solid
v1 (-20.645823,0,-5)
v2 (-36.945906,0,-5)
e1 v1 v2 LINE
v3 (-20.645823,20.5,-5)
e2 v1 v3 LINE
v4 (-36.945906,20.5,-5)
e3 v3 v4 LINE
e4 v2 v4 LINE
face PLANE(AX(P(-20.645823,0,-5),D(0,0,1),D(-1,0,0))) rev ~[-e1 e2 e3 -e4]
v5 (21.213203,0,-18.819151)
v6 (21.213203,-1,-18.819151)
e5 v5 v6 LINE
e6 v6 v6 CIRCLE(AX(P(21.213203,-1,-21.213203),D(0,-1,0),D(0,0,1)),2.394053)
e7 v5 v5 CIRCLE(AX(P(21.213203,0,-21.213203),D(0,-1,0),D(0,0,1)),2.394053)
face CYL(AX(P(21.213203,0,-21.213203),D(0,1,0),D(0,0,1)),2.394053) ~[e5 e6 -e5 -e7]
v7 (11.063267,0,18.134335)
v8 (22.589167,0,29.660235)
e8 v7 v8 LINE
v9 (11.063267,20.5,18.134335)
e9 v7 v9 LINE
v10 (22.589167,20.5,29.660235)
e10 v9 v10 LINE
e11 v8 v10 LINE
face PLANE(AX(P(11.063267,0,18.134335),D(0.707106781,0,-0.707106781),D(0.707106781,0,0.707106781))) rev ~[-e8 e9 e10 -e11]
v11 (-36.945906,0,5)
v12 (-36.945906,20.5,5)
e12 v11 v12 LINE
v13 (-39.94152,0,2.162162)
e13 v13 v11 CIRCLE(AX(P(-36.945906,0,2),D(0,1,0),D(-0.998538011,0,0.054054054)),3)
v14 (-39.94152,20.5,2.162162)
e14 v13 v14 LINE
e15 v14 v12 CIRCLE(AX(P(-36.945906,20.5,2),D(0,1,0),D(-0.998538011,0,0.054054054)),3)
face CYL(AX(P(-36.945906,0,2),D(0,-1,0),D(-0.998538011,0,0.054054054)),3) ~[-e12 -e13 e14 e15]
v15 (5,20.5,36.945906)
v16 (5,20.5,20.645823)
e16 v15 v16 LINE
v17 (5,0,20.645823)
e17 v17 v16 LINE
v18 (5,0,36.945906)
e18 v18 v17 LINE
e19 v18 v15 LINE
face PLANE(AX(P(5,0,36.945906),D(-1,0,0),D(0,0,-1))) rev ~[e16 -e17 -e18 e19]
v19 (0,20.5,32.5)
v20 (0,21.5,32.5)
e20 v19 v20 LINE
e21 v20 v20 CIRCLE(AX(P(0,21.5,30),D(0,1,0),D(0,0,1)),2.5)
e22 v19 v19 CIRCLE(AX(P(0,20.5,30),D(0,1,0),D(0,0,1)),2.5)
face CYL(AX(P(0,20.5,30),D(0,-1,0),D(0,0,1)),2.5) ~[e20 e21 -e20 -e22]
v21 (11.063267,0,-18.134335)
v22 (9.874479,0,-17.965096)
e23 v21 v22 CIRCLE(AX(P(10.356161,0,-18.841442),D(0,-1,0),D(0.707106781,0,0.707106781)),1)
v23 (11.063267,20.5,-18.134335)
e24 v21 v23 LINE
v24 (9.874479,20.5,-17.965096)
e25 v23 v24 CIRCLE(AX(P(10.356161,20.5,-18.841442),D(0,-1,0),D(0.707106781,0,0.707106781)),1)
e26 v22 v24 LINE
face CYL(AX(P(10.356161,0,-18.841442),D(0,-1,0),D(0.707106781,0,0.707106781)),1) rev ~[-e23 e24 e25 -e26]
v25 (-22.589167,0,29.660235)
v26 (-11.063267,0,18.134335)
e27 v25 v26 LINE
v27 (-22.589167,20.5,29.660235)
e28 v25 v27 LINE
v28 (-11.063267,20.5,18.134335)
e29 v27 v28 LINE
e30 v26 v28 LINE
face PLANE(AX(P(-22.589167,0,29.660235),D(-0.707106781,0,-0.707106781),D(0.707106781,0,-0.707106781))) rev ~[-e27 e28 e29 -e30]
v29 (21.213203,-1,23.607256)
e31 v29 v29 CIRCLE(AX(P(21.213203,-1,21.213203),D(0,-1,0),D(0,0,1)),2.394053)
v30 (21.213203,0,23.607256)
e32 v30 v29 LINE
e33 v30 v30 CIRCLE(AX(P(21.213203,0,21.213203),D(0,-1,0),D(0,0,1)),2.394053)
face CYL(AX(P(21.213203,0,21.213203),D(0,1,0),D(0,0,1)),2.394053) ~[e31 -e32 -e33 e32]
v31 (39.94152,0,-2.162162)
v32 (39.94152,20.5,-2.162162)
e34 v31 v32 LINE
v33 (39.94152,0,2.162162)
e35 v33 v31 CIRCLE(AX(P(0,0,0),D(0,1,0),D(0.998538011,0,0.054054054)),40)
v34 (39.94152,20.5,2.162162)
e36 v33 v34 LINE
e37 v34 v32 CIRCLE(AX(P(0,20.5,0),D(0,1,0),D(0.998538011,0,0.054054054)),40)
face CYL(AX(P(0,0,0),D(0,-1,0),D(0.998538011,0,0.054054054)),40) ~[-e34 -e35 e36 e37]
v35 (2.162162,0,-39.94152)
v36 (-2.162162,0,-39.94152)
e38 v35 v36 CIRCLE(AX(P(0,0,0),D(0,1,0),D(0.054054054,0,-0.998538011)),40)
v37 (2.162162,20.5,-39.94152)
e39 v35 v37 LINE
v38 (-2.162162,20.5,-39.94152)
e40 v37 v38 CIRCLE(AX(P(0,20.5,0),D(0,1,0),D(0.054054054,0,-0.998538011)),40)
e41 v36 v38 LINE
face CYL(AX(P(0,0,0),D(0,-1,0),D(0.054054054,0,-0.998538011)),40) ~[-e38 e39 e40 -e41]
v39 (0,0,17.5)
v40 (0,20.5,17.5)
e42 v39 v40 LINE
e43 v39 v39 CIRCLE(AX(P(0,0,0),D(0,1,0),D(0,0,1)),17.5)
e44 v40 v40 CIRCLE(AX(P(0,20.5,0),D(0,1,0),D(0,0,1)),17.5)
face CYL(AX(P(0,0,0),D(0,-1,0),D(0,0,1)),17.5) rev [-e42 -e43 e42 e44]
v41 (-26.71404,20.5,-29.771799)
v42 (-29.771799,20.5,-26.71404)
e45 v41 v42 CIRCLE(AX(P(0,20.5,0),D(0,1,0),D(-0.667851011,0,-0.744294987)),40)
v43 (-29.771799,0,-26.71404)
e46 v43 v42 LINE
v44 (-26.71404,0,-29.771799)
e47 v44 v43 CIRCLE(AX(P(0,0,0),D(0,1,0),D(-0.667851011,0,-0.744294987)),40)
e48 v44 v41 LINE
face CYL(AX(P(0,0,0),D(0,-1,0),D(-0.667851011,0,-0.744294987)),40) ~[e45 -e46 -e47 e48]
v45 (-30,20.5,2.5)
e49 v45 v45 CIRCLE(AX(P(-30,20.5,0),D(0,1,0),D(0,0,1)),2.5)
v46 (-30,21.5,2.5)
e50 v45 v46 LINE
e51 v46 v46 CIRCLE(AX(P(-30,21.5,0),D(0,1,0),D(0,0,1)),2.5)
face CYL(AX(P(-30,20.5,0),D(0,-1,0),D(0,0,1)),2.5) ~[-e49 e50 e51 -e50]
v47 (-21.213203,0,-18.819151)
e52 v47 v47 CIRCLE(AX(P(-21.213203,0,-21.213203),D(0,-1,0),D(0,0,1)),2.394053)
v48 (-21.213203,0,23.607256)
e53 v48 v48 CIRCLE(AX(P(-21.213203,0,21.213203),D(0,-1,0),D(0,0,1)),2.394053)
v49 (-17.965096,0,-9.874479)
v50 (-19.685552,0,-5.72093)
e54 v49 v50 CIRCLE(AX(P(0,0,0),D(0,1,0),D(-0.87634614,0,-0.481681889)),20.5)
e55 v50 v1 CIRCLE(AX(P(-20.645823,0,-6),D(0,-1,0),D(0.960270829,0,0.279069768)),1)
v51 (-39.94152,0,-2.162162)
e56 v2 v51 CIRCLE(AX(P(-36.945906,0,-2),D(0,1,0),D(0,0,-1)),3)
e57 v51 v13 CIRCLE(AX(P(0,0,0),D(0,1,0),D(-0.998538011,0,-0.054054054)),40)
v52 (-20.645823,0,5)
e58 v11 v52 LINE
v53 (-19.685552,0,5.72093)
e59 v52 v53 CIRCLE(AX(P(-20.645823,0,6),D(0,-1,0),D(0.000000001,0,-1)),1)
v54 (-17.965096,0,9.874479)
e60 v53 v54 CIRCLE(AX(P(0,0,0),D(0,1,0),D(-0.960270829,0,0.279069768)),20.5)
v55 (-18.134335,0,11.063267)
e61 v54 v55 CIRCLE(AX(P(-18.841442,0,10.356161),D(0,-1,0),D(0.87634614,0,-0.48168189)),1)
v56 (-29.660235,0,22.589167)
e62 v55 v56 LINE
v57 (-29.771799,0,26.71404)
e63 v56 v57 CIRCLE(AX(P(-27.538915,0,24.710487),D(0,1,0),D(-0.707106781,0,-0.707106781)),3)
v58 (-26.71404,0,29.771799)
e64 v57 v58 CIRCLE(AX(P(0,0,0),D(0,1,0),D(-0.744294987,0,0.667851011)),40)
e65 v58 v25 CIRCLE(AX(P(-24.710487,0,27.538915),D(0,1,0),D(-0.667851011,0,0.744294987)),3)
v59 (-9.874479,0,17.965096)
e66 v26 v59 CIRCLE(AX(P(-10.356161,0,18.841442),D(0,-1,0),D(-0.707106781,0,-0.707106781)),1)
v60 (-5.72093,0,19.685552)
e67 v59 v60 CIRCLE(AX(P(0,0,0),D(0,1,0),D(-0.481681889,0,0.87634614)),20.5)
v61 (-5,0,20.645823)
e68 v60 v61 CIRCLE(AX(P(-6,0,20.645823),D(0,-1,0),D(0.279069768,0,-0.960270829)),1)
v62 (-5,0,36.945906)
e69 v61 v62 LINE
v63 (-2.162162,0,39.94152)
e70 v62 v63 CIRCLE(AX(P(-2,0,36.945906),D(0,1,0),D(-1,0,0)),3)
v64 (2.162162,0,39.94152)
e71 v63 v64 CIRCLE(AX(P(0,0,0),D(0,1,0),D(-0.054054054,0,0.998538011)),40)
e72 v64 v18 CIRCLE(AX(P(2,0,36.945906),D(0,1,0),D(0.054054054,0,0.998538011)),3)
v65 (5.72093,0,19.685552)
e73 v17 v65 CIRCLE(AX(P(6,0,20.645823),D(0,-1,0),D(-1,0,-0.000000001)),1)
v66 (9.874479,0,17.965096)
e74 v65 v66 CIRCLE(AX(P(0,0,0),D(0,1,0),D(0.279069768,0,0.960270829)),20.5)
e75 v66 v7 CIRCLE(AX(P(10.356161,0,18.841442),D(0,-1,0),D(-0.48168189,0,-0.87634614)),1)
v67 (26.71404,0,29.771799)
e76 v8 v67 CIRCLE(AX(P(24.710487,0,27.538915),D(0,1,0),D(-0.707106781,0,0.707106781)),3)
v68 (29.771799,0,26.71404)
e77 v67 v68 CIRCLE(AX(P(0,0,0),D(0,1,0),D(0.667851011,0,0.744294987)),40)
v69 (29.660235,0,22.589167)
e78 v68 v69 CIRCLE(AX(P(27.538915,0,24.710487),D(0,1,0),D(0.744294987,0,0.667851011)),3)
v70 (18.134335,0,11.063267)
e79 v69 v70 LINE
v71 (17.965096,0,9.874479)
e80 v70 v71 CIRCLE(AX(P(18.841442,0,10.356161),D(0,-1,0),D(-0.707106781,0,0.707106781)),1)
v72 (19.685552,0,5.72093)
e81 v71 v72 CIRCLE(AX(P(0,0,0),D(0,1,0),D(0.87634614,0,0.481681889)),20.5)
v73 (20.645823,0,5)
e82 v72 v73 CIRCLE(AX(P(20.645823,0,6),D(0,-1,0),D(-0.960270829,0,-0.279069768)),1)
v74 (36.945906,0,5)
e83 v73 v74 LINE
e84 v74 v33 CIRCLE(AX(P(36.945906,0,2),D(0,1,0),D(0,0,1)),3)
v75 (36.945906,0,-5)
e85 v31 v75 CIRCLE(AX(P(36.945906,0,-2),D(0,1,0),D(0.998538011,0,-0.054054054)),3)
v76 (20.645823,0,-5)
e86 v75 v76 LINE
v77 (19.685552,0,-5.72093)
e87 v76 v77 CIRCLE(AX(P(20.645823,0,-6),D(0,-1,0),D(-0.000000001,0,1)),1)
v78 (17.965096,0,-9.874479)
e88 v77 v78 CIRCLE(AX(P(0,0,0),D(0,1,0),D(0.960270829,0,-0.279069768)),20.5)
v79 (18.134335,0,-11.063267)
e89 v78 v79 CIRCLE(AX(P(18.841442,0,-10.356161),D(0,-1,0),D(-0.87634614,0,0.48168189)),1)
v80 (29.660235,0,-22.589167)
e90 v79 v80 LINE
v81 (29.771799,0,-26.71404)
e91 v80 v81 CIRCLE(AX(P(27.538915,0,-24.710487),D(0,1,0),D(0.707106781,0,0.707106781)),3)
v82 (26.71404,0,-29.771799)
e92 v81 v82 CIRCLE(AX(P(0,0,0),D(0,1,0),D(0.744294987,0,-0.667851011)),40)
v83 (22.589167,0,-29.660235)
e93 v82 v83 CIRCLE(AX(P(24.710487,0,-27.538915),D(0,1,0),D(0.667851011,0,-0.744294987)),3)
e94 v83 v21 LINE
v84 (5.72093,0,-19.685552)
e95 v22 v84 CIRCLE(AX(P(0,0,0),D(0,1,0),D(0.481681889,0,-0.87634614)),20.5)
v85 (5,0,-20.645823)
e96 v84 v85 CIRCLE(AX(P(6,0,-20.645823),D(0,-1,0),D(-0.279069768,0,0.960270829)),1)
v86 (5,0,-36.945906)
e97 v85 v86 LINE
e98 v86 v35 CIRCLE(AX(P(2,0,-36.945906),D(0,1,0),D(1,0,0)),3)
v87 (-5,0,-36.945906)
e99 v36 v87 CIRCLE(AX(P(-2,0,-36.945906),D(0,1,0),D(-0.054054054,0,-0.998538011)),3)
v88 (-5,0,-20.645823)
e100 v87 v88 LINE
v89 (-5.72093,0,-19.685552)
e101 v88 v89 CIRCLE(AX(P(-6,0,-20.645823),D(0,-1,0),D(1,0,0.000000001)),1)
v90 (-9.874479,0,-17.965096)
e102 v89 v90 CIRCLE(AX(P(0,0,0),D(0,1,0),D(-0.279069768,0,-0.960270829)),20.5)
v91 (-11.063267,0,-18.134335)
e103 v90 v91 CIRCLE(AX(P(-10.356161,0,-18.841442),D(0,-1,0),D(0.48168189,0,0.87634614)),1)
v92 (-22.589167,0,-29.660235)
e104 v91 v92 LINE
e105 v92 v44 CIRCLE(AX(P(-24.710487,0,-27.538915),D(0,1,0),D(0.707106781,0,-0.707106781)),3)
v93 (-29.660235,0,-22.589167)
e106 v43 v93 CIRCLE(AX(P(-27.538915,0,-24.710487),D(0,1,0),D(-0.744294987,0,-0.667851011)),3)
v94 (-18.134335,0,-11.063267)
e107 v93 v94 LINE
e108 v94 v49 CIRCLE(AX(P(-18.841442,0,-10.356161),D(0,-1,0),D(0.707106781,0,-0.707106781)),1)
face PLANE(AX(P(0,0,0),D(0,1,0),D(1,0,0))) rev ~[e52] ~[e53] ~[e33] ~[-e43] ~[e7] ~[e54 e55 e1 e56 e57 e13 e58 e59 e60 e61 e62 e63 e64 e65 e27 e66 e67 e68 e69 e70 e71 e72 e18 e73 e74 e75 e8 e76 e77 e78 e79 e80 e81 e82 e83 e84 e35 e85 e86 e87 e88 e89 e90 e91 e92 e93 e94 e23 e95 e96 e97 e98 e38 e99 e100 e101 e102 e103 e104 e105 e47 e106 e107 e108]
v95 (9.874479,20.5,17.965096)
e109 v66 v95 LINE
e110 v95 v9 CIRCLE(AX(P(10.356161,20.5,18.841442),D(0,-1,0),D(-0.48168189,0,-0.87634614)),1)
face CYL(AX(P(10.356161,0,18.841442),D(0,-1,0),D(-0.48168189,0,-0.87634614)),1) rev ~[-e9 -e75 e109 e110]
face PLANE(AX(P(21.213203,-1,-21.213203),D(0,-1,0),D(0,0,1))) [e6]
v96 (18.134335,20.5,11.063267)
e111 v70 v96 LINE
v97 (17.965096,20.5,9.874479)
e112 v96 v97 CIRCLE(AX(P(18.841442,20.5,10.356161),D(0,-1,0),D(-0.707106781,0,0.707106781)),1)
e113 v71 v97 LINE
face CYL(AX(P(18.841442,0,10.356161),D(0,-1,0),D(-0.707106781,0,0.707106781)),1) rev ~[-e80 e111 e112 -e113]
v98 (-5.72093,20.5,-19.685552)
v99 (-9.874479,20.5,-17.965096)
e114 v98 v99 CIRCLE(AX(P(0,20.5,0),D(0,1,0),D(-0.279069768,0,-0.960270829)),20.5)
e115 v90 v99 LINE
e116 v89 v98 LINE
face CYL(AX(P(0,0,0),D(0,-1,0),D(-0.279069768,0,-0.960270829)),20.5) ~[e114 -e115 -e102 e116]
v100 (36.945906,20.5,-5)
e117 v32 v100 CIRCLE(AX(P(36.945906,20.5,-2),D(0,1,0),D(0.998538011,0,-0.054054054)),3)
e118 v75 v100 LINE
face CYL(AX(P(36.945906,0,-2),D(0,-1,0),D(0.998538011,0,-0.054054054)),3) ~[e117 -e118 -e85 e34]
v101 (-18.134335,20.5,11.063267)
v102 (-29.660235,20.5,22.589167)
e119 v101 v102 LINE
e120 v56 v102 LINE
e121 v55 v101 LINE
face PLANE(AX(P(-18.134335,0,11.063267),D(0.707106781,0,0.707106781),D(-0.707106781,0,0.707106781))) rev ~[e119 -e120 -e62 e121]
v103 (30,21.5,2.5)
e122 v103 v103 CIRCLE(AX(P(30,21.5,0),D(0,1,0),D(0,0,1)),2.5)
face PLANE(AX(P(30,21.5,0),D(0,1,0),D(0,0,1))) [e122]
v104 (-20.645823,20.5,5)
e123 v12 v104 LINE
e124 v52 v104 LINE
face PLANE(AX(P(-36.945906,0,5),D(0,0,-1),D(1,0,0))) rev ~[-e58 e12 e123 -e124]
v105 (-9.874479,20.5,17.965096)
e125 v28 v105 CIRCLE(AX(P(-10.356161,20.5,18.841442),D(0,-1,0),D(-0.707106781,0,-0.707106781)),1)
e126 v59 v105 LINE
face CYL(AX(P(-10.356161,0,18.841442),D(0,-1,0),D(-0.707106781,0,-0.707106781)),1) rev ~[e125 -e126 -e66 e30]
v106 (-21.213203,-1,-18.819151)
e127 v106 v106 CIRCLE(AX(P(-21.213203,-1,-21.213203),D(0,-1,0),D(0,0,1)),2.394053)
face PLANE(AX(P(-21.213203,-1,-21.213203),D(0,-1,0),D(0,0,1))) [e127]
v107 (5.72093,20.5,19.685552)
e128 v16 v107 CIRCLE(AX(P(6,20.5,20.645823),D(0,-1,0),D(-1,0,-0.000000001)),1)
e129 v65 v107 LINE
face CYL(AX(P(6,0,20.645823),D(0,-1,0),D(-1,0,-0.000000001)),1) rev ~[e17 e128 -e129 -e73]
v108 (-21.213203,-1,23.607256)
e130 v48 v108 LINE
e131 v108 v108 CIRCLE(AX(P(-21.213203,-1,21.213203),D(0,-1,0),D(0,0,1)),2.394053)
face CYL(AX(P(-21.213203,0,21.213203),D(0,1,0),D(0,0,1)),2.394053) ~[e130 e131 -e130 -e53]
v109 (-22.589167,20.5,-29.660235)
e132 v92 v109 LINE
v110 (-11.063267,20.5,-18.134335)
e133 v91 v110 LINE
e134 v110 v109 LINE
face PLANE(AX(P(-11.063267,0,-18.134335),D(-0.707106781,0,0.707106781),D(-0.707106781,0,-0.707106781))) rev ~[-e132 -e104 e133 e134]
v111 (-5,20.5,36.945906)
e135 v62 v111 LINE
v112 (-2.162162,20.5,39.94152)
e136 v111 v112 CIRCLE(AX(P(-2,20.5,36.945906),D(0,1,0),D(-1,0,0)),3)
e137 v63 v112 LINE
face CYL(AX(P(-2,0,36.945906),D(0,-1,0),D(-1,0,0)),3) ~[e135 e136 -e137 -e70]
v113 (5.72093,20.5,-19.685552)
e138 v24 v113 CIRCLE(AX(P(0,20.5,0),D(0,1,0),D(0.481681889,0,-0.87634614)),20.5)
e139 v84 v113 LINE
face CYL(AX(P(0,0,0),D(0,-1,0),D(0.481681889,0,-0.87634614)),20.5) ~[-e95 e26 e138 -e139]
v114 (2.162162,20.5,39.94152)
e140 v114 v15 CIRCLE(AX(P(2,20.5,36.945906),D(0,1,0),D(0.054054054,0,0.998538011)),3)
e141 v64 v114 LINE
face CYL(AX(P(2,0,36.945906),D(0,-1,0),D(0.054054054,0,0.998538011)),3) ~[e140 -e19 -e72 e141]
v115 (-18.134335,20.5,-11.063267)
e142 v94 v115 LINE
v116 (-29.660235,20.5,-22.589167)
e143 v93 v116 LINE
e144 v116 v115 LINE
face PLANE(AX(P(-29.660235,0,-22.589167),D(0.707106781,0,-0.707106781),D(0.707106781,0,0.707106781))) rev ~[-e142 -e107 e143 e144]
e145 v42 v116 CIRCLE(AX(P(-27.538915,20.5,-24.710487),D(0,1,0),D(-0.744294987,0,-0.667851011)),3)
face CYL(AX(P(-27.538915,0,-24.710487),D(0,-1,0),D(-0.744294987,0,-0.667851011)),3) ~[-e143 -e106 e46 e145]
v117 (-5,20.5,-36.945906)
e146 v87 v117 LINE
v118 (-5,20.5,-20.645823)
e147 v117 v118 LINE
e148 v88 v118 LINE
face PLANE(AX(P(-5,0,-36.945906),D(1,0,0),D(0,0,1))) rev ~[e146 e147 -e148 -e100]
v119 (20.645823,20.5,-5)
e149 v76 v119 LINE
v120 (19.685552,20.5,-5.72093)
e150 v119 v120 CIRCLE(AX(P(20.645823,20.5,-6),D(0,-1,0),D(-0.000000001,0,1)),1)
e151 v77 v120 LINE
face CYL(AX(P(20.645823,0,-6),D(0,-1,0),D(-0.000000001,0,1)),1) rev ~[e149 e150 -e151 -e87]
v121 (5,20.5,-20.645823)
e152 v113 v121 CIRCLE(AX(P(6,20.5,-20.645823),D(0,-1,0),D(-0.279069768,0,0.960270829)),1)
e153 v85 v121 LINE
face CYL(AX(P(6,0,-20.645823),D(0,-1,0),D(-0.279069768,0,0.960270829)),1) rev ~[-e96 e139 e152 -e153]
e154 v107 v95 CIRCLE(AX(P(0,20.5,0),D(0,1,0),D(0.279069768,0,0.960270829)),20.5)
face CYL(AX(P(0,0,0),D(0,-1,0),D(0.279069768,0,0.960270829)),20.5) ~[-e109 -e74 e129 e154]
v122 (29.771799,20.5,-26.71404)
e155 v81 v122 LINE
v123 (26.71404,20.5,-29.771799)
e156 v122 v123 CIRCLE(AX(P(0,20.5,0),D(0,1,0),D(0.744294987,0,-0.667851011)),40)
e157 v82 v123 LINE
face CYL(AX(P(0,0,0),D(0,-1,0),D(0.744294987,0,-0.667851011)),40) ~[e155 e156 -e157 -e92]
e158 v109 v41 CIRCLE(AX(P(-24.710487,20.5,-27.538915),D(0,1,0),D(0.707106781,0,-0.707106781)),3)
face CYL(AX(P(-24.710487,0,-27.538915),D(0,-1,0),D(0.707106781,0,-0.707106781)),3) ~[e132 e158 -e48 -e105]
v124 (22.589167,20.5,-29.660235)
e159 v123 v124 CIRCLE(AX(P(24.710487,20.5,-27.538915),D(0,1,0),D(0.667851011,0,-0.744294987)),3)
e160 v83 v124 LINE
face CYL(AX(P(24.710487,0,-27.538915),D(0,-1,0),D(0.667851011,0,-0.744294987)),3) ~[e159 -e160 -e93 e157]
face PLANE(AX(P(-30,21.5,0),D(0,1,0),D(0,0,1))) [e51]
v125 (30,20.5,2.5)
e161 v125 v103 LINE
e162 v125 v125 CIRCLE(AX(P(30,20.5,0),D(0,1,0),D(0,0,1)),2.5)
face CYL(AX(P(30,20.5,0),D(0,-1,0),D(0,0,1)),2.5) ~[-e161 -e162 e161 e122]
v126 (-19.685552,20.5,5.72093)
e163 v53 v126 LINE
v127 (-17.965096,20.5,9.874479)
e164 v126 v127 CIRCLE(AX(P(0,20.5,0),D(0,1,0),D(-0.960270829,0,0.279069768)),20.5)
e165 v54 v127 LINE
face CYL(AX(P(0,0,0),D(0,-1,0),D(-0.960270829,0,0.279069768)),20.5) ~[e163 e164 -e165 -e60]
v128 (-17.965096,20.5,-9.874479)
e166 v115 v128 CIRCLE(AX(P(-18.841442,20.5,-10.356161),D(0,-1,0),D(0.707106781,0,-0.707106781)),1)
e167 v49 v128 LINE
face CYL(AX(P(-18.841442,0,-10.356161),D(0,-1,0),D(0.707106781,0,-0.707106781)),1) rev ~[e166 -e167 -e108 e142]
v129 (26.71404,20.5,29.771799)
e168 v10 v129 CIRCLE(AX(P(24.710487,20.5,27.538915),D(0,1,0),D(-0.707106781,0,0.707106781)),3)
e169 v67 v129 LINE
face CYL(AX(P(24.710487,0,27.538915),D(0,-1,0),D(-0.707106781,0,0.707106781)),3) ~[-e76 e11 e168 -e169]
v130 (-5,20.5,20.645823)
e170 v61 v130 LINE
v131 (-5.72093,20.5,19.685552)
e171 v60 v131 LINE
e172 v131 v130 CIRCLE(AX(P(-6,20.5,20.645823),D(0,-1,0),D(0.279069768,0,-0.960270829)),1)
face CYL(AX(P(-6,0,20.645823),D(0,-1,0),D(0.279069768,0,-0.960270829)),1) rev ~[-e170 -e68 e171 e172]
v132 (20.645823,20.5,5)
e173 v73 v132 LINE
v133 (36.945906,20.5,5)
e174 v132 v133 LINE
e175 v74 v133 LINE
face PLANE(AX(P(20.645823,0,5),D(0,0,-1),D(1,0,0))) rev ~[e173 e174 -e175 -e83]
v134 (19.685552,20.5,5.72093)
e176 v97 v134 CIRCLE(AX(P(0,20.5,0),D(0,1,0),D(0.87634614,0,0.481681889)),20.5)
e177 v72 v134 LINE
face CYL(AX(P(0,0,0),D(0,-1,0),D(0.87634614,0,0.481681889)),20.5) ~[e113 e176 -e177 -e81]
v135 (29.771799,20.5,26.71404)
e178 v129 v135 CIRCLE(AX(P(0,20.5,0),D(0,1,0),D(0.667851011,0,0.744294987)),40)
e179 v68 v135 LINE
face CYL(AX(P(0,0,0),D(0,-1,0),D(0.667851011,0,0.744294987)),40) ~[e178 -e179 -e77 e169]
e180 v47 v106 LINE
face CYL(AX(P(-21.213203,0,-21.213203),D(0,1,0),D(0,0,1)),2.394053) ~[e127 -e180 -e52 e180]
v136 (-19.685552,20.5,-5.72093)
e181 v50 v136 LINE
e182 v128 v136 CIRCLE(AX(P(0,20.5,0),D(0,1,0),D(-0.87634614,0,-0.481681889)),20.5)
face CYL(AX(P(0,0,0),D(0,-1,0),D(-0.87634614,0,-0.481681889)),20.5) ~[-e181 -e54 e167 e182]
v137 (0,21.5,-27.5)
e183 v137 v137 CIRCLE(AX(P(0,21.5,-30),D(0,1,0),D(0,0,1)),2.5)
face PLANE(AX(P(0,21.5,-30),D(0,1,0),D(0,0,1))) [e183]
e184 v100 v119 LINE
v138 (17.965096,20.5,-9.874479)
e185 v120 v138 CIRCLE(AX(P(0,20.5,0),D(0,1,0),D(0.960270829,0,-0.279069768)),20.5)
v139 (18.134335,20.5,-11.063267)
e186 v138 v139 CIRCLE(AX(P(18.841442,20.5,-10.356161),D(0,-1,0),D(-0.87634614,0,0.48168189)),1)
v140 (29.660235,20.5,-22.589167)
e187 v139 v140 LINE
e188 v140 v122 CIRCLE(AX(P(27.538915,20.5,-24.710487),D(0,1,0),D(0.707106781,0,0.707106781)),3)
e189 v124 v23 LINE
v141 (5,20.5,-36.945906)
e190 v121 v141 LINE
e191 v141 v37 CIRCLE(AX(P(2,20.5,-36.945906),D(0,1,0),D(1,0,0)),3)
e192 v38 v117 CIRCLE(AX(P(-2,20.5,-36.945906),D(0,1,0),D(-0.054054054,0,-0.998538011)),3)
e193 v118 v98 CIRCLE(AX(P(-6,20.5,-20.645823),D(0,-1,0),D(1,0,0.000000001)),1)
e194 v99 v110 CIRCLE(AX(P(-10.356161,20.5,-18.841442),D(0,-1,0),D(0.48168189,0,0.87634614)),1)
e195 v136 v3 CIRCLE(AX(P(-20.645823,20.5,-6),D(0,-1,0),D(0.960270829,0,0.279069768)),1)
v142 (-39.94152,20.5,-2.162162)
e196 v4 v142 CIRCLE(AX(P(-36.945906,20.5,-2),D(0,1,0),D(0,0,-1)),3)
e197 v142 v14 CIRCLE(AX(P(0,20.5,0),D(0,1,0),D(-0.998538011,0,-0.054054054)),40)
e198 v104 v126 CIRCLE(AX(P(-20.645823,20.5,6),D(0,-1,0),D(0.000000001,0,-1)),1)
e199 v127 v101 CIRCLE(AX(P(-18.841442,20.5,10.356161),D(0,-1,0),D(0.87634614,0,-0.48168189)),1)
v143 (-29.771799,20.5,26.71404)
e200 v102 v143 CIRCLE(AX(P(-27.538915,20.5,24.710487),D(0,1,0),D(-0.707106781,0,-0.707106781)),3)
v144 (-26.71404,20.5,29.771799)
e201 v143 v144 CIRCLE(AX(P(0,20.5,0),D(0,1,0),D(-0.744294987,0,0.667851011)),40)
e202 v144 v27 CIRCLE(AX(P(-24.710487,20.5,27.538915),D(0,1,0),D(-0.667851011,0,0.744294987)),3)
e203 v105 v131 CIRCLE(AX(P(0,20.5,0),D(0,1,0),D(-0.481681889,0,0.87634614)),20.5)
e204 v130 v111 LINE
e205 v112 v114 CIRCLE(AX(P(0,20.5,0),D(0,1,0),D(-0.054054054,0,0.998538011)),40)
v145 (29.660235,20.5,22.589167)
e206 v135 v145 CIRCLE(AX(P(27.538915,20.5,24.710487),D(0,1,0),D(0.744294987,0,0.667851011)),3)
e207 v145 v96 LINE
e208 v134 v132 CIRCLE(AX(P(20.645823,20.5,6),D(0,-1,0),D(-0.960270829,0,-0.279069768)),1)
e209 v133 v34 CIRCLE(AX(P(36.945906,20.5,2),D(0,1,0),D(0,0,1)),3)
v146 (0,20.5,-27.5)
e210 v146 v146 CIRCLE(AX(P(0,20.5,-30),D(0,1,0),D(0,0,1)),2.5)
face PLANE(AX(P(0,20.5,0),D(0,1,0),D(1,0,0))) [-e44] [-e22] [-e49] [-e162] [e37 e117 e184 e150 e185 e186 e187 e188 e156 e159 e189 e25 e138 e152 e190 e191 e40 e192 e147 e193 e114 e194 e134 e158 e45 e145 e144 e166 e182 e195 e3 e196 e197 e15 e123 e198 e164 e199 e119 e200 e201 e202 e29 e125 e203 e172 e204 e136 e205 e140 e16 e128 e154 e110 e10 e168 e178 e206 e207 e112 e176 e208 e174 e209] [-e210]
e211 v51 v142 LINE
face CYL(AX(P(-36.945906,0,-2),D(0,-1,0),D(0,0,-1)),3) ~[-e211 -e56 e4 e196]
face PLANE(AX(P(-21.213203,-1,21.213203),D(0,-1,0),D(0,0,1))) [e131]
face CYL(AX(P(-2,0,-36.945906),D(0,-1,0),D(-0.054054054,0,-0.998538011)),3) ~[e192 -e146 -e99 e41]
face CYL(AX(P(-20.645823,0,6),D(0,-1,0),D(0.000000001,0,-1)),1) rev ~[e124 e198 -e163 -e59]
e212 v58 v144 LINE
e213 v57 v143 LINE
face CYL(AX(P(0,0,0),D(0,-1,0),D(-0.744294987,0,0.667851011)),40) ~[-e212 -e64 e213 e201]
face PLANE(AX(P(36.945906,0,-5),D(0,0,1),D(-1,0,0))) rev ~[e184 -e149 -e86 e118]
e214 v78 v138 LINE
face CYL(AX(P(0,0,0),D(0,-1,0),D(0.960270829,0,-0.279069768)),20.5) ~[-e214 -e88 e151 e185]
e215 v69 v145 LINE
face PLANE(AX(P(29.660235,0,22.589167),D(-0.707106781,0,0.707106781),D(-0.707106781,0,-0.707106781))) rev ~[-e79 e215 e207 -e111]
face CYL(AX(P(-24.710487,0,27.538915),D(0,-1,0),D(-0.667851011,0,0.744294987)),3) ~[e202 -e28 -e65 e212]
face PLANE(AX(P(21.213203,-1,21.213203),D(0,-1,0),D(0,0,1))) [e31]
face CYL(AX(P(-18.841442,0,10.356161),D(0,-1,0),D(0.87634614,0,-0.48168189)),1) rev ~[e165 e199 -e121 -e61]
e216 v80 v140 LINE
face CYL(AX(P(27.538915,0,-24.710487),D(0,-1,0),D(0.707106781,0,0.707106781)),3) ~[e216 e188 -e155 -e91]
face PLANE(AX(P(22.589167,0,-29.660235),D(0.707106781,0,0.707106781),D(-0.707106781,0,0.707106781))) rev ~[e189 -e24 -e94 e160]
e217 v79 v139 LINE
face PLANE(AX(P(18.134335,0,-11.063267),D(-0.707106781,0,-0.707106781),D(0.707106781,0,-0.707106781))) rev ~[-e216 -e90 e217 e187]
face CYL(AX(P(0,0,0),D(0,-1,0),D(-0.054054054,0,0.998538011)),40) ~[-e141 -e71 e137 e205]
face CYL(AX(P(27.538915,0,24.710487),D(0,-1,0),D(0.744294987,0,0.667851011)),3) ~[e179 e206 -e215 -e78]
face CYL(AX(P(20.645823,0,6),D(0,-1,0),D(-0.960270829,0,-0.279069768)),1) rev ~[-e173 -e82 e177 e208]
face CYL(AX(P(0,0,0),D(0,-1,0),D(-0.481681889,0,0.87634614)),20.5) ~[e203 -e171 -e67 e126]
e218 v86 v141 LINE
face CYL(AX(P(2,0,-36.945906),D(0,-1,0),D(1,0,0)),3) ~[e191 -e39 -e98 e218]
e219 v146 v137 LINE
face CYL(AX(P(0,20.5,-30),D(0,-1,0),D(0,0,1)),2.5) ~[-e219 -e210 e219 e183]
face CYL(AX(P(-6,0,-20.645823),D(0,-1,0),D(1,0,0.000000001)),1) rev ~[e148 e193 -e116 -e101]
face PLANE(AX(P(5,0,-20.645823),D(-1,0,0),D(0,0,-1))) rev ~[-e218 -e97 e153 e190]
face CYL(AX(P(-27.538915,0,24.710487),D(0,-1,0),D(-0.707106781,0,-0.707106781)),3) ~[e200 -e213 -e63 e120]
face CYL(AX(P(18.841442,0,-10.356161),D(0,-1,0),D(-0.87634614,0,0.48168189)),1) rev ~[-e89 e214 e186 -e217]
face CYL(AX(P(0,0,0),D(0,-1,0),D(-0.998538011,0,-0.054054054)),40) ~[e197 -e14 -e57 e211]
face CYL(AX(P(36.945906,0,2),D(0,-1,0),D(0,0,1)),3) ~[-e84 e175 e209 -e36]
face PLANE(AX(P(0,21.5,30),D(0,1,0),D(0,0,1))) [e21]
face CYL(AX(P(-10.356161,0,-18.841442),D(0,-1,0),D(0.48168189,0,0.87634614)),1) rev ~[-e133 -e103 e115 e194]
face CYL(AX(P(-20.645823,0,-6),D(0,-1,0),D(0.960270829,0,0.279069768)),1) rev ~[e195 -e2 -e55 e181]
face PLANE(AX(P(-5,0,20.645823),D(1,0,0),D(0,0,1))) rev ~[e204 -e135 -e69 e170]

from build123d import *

# Parameters (mm, degrees)
SKETCH1_R           = 17.5
BOSS_EXTRUDE1_DEPTH = 20.5
SKETCH2_R           = 2.5
BOSS_EXTRUDE2_DEPTH = 1
SKETCH3_R           = 2.394052793
BOSS_EXTRUDE3_DEPTH = 1


with BuildPart() as part:
    # Sketch1 → Boss-Extrude1 (new body)
    with BuildSketch(Plane(origin=(0, 0, 0), x_dir=(1, 0, 0), z_dir=(0, 1, 0))):
        with BuildLine():
            Line((5, 20.645822822), (5, 36.945906404))
            ThreePointArc((5, 36.945906404), (4.177898814, 39.00909732), (2.162162162, 39.941520437))
            ThreePointArc((2.162162162, 39.941520437), (0, 40), (-2.162162162, 39.941520437))
            ThreePointArc((-2.162162162, 39.941520437), (-4.177898814, 39.00909732), (-5, 36.945906404))
            Line((-5, 36.945906404), (-5, 20.645822822))
            ThreePointArc((-5, 20.645822822), (-5.200290751, 20.04543535), (-5.720930233, 19.685551993))
            ThreePointArc((-5.720930233, 19.685551993), (-7.845010363, 18.939530416), (-9.874478744, 17.965095868))
            ThreePointArc((-9.874478744, 17.965095868), (-10.497102414, 17.851424122), (-11.063267415, 18.134335227))
            Line((-11.063267415, 18.134335227), (-22.589167049, 29.660234861))
            ThreePointArc((-22.589167049, 29.660234861), (-24.629376661, 30.537817825), (-26.714040425, 29.771799478))
            ThreePointArc((-26.714040425, 29.771799478), (-28.284271247, 28.284271247), (-29.771799478, 26.714040425))
            ThreePointArc((-29.771799478, 26.714040425), (-30.537817825, 24.629376661), (-29.660234861, 22.589167049))
            Line((-29.660234861, 22.589167049), (-18.134335227, 11.063267415))
            ThreePointArc((-18.134335227, 11.063267415), (-17.851424122, 10.497102414), (-17.965095868, 9.874478744))
            ThreePointArc((-17.965095868, 9.874478744), (-18.939530416, 7.845010363), (-19.685551993, 5.720930233))
            ThreePointArc((-19.685551993, 5.720930233), (-20.04543535, 5.200290751), (-20.645822822, 5))
            Line((-20.645822822, 5), (-36.945906404, 5))
            ThreePointArc((-36.945906404, 5), (-39.00909732, 4.177898814), (-39.941520437, 2.162162162))
            ThreePointArc((-39.941520437, 2.162162162), (-40, 0), (-39.941520437, -2.162162162))
            ThreePointArc((-39.941520437, -2.162162162), (-39.00909732, -4.177898814), (-36.945906404, -5))
            Line((-36.945906404, -5), (-20.645822822, -5))
            ThreePointArc((-20.645822822, -5), (-20.04543535, -5.200290751), (-19.685551993, -5.720930233))
            ThreePointArc((-19.685551993, -5.720930233), (-18.939530416, -7.845010363), (-17.965095868, -9.874478744))
            ThreePointArc((-17.965095868, -9.874478744), (-17.851424122, -10.497102414), (-18.134335227, -11.063267415))
            Line((-18.134335227, -11.063267415), (-29.660234861, -22.589167049))
            ThreePointArc((-29.660234861, -22.589167049), (-30.537817825, -24.629376661), (-29.771799478, -26.714040425))
            ThreePointArc((-29.771799478, -26.714040425), (-28.284271247, -28.284271247), (-26.714040425, -29.771799478))
            ThreePointArc((-26.714040425, -29.771799478), (-24.629376661, -30.537817825), (-22.589167049, -29.660234861))
            Line((-22.589167049, -29.660234861), (-11.063267415, -18.134335227))
            ThreePointArc((-11.063267415, -18.134335227), (-10.497102414, -17.851424122), (-9.874478744, -17.965095868))
            ThreePointArc((-9.874478744, -17.965095868), (-7.845010363, -18.939530416), (-5.720930233, -19.685551993))
            ThreePointArc((-5.720930233, -19.685551993), (-5.200290751, -20.04543535), (-5, -20.645822822))
            Line((-5, -20.645822822), (-5, -36.945906404))
            ThreePointArc((-5, -36.945906404), (-4.177898814, -39.00909732), (-2.162162162, -39.941520437))
            ThreePointArc((-2.162162162, -39.941520437), (0, -40), (2.162162162, -39.941520437))
            ThreePointArc((2.162162162, -39.941520437), (4.177898814, -39.00909732), (5, -36.945906404))
            Line((5, -36.945906404), (5, -20.645822822))
            ThreePointArc((5, -20.645822822), (5.200290751, -20.04543535), (5.720930233, -19.685551993))
            ThreePointArc((5.720930233, -19.685551993), (7.845010363, -18.939530416), (9.874478744, -17.965095868))
            ThreePointArc((9.874478744, -17.965095868), (10.497102414, -17.851424122), (11.063267415, -18.134335227))
            Line((11.063267415, -18.134335227), (22.589167049, -29.660234861))
            ThreePointArc((22.589167049, -29.660234861), (24.629376661, -30.537817825), (26.714040425, -29.771799478))
            ThreePointArc((26.714040425, -29.771799478), (28.284271247, -28.284271247), (29.771799478, -26.714040425))
            ThreePointArc((29.771799478, -26.714040425), (30.537817825, -24.629376661), (29.660234861, -22.589167049))
            Line((29.660234861, -22.589167049), (18.134335227, -11.063267415))
            ThreePointArc((18.134335227, -11.063267415), (17.851424122, -10.497102414), (17.965095868, -9.874478744))
            ThreePointArc((17.965095868, -9.874478744), (18.939530416, -7.845010363), (19.685551993, -5.720930233))
            ThreePointArc((19.685551993, -5.720930233), (20.04543535, -5.200290751), (20.645822822, -5))
            Line((20.645822822, -5), (36.945906404, -5))
            ThreePointArc((36.945906404, -5), (39.00909732, -4.177898814), (39.941520437, -2.162162162))
            ThreePointArc((39.941520437, -2.162162162), (40, 0), (39.941520437, 2.162162162))
            ThreePointArc((39.941520437, 2.162162162), (39.00909732, 4.177898814), (36.945906404, 5))
            Line((36.945906404, 5), (20.645822822, 5))
            ThreePointArc((20.645822822, 5), (20.04543535, 5.200290751), (19.685551993, 5.720930233))
            ThreePointArc((19.685551993, 5.720930233), (18.939530416, 7.845010363), (17.965095868, 9.874478744))
            ThreePointArc((17.965095868, 9.874478744), (17.851424122, 10.497102414), (18.134335227, 11.063267415))
            Line((18.134335227, 11.063267415), (29.660234861, 22.589167049))
            ThreePointArc((29.660234861, 22.589167049), (30.537817825, 24.629376661), (29.771799478, 26.714040425))
            ThreePointArc((29.771799478, 26.714040425), (28.284271247, 28.284271247), (26.714040425, 29.771799478))
            ThreePointArc((26.714040425, 29.771799478), (24.629376661, 30.537817825), (22.589167049, 29.660234861))
            Line((22.589167049, 29.660234861), (11.063267415, 18.134335227))
            ThreePointArc((11.063267415, 18.134335227), (10.497102414, 17.851424122), (9.874478744, 17.965095868))
            ThreePointArc((9.874478744, 17.965095868), (7.845010363, 18.939530416), (5.720930233, 19.685551993))
            ThreePointArc((5.720930233, 19.685551993), (5.200290751, 20.04543535), (5, 20.645822822))
        make_face()
        with Locations(Location((0, 0, 0), (0, 0, 270))):
            Circle(SKETCH1_R, mode=Mode.SUBTRACT)
    extrude(amount=BOSS_EXTRUDE1_DEPTH)

    # Sketch2 → Boss-Extrude2 (add)
    with BuildSketch(Plane(origin=(0, 20.5, 0), x_dir=(1, 0, 0), z_dir=(0, 1, 0))):
        with Locations(Location((0, 30, 0), (0, 0, 270))):
            Circle(SKETCH2_R)
        with Locations(Location((30, 0, 0), (0, 0, 270))):
            Circle(SKETCH2_R)
        with Locations(Location((0, -30, 0), (0, 0, 270))):
            Circle(SKETCH2_R)
        with Locations(Location((-30, 0, 0), (0, 0, 270))):
            Circle(SKETCH2_R)
    extrude(amount=BOSS_EXTRUDE2_DEPTH)

    # Sketch3 → Boss-Extrude3 (add)
    with BuildSketch(Plane.XZ):
        with Locations(Location((-21.213203436, 21.213203436, 0), (0, 0, 90))):
            Circle(SKETCH3_R)
        with Locations(Location((21.213203436, 21.213203436, 0), (0, 0, 90))):
            Circle(SKETCH3_R)
        with Locations(Location((21.213203436, -21.213203436, 0), (0, 0, 90))):
            Circle(SKETCH3_R)
        with Locations(Location((-21.213203436, -21.213203436, 0), (0, 0, 90))):
            Circle(SKETCH3_R)
    extrude(amount=BOSS_EXTRUDE3_DEPTH)


solid = part.part
